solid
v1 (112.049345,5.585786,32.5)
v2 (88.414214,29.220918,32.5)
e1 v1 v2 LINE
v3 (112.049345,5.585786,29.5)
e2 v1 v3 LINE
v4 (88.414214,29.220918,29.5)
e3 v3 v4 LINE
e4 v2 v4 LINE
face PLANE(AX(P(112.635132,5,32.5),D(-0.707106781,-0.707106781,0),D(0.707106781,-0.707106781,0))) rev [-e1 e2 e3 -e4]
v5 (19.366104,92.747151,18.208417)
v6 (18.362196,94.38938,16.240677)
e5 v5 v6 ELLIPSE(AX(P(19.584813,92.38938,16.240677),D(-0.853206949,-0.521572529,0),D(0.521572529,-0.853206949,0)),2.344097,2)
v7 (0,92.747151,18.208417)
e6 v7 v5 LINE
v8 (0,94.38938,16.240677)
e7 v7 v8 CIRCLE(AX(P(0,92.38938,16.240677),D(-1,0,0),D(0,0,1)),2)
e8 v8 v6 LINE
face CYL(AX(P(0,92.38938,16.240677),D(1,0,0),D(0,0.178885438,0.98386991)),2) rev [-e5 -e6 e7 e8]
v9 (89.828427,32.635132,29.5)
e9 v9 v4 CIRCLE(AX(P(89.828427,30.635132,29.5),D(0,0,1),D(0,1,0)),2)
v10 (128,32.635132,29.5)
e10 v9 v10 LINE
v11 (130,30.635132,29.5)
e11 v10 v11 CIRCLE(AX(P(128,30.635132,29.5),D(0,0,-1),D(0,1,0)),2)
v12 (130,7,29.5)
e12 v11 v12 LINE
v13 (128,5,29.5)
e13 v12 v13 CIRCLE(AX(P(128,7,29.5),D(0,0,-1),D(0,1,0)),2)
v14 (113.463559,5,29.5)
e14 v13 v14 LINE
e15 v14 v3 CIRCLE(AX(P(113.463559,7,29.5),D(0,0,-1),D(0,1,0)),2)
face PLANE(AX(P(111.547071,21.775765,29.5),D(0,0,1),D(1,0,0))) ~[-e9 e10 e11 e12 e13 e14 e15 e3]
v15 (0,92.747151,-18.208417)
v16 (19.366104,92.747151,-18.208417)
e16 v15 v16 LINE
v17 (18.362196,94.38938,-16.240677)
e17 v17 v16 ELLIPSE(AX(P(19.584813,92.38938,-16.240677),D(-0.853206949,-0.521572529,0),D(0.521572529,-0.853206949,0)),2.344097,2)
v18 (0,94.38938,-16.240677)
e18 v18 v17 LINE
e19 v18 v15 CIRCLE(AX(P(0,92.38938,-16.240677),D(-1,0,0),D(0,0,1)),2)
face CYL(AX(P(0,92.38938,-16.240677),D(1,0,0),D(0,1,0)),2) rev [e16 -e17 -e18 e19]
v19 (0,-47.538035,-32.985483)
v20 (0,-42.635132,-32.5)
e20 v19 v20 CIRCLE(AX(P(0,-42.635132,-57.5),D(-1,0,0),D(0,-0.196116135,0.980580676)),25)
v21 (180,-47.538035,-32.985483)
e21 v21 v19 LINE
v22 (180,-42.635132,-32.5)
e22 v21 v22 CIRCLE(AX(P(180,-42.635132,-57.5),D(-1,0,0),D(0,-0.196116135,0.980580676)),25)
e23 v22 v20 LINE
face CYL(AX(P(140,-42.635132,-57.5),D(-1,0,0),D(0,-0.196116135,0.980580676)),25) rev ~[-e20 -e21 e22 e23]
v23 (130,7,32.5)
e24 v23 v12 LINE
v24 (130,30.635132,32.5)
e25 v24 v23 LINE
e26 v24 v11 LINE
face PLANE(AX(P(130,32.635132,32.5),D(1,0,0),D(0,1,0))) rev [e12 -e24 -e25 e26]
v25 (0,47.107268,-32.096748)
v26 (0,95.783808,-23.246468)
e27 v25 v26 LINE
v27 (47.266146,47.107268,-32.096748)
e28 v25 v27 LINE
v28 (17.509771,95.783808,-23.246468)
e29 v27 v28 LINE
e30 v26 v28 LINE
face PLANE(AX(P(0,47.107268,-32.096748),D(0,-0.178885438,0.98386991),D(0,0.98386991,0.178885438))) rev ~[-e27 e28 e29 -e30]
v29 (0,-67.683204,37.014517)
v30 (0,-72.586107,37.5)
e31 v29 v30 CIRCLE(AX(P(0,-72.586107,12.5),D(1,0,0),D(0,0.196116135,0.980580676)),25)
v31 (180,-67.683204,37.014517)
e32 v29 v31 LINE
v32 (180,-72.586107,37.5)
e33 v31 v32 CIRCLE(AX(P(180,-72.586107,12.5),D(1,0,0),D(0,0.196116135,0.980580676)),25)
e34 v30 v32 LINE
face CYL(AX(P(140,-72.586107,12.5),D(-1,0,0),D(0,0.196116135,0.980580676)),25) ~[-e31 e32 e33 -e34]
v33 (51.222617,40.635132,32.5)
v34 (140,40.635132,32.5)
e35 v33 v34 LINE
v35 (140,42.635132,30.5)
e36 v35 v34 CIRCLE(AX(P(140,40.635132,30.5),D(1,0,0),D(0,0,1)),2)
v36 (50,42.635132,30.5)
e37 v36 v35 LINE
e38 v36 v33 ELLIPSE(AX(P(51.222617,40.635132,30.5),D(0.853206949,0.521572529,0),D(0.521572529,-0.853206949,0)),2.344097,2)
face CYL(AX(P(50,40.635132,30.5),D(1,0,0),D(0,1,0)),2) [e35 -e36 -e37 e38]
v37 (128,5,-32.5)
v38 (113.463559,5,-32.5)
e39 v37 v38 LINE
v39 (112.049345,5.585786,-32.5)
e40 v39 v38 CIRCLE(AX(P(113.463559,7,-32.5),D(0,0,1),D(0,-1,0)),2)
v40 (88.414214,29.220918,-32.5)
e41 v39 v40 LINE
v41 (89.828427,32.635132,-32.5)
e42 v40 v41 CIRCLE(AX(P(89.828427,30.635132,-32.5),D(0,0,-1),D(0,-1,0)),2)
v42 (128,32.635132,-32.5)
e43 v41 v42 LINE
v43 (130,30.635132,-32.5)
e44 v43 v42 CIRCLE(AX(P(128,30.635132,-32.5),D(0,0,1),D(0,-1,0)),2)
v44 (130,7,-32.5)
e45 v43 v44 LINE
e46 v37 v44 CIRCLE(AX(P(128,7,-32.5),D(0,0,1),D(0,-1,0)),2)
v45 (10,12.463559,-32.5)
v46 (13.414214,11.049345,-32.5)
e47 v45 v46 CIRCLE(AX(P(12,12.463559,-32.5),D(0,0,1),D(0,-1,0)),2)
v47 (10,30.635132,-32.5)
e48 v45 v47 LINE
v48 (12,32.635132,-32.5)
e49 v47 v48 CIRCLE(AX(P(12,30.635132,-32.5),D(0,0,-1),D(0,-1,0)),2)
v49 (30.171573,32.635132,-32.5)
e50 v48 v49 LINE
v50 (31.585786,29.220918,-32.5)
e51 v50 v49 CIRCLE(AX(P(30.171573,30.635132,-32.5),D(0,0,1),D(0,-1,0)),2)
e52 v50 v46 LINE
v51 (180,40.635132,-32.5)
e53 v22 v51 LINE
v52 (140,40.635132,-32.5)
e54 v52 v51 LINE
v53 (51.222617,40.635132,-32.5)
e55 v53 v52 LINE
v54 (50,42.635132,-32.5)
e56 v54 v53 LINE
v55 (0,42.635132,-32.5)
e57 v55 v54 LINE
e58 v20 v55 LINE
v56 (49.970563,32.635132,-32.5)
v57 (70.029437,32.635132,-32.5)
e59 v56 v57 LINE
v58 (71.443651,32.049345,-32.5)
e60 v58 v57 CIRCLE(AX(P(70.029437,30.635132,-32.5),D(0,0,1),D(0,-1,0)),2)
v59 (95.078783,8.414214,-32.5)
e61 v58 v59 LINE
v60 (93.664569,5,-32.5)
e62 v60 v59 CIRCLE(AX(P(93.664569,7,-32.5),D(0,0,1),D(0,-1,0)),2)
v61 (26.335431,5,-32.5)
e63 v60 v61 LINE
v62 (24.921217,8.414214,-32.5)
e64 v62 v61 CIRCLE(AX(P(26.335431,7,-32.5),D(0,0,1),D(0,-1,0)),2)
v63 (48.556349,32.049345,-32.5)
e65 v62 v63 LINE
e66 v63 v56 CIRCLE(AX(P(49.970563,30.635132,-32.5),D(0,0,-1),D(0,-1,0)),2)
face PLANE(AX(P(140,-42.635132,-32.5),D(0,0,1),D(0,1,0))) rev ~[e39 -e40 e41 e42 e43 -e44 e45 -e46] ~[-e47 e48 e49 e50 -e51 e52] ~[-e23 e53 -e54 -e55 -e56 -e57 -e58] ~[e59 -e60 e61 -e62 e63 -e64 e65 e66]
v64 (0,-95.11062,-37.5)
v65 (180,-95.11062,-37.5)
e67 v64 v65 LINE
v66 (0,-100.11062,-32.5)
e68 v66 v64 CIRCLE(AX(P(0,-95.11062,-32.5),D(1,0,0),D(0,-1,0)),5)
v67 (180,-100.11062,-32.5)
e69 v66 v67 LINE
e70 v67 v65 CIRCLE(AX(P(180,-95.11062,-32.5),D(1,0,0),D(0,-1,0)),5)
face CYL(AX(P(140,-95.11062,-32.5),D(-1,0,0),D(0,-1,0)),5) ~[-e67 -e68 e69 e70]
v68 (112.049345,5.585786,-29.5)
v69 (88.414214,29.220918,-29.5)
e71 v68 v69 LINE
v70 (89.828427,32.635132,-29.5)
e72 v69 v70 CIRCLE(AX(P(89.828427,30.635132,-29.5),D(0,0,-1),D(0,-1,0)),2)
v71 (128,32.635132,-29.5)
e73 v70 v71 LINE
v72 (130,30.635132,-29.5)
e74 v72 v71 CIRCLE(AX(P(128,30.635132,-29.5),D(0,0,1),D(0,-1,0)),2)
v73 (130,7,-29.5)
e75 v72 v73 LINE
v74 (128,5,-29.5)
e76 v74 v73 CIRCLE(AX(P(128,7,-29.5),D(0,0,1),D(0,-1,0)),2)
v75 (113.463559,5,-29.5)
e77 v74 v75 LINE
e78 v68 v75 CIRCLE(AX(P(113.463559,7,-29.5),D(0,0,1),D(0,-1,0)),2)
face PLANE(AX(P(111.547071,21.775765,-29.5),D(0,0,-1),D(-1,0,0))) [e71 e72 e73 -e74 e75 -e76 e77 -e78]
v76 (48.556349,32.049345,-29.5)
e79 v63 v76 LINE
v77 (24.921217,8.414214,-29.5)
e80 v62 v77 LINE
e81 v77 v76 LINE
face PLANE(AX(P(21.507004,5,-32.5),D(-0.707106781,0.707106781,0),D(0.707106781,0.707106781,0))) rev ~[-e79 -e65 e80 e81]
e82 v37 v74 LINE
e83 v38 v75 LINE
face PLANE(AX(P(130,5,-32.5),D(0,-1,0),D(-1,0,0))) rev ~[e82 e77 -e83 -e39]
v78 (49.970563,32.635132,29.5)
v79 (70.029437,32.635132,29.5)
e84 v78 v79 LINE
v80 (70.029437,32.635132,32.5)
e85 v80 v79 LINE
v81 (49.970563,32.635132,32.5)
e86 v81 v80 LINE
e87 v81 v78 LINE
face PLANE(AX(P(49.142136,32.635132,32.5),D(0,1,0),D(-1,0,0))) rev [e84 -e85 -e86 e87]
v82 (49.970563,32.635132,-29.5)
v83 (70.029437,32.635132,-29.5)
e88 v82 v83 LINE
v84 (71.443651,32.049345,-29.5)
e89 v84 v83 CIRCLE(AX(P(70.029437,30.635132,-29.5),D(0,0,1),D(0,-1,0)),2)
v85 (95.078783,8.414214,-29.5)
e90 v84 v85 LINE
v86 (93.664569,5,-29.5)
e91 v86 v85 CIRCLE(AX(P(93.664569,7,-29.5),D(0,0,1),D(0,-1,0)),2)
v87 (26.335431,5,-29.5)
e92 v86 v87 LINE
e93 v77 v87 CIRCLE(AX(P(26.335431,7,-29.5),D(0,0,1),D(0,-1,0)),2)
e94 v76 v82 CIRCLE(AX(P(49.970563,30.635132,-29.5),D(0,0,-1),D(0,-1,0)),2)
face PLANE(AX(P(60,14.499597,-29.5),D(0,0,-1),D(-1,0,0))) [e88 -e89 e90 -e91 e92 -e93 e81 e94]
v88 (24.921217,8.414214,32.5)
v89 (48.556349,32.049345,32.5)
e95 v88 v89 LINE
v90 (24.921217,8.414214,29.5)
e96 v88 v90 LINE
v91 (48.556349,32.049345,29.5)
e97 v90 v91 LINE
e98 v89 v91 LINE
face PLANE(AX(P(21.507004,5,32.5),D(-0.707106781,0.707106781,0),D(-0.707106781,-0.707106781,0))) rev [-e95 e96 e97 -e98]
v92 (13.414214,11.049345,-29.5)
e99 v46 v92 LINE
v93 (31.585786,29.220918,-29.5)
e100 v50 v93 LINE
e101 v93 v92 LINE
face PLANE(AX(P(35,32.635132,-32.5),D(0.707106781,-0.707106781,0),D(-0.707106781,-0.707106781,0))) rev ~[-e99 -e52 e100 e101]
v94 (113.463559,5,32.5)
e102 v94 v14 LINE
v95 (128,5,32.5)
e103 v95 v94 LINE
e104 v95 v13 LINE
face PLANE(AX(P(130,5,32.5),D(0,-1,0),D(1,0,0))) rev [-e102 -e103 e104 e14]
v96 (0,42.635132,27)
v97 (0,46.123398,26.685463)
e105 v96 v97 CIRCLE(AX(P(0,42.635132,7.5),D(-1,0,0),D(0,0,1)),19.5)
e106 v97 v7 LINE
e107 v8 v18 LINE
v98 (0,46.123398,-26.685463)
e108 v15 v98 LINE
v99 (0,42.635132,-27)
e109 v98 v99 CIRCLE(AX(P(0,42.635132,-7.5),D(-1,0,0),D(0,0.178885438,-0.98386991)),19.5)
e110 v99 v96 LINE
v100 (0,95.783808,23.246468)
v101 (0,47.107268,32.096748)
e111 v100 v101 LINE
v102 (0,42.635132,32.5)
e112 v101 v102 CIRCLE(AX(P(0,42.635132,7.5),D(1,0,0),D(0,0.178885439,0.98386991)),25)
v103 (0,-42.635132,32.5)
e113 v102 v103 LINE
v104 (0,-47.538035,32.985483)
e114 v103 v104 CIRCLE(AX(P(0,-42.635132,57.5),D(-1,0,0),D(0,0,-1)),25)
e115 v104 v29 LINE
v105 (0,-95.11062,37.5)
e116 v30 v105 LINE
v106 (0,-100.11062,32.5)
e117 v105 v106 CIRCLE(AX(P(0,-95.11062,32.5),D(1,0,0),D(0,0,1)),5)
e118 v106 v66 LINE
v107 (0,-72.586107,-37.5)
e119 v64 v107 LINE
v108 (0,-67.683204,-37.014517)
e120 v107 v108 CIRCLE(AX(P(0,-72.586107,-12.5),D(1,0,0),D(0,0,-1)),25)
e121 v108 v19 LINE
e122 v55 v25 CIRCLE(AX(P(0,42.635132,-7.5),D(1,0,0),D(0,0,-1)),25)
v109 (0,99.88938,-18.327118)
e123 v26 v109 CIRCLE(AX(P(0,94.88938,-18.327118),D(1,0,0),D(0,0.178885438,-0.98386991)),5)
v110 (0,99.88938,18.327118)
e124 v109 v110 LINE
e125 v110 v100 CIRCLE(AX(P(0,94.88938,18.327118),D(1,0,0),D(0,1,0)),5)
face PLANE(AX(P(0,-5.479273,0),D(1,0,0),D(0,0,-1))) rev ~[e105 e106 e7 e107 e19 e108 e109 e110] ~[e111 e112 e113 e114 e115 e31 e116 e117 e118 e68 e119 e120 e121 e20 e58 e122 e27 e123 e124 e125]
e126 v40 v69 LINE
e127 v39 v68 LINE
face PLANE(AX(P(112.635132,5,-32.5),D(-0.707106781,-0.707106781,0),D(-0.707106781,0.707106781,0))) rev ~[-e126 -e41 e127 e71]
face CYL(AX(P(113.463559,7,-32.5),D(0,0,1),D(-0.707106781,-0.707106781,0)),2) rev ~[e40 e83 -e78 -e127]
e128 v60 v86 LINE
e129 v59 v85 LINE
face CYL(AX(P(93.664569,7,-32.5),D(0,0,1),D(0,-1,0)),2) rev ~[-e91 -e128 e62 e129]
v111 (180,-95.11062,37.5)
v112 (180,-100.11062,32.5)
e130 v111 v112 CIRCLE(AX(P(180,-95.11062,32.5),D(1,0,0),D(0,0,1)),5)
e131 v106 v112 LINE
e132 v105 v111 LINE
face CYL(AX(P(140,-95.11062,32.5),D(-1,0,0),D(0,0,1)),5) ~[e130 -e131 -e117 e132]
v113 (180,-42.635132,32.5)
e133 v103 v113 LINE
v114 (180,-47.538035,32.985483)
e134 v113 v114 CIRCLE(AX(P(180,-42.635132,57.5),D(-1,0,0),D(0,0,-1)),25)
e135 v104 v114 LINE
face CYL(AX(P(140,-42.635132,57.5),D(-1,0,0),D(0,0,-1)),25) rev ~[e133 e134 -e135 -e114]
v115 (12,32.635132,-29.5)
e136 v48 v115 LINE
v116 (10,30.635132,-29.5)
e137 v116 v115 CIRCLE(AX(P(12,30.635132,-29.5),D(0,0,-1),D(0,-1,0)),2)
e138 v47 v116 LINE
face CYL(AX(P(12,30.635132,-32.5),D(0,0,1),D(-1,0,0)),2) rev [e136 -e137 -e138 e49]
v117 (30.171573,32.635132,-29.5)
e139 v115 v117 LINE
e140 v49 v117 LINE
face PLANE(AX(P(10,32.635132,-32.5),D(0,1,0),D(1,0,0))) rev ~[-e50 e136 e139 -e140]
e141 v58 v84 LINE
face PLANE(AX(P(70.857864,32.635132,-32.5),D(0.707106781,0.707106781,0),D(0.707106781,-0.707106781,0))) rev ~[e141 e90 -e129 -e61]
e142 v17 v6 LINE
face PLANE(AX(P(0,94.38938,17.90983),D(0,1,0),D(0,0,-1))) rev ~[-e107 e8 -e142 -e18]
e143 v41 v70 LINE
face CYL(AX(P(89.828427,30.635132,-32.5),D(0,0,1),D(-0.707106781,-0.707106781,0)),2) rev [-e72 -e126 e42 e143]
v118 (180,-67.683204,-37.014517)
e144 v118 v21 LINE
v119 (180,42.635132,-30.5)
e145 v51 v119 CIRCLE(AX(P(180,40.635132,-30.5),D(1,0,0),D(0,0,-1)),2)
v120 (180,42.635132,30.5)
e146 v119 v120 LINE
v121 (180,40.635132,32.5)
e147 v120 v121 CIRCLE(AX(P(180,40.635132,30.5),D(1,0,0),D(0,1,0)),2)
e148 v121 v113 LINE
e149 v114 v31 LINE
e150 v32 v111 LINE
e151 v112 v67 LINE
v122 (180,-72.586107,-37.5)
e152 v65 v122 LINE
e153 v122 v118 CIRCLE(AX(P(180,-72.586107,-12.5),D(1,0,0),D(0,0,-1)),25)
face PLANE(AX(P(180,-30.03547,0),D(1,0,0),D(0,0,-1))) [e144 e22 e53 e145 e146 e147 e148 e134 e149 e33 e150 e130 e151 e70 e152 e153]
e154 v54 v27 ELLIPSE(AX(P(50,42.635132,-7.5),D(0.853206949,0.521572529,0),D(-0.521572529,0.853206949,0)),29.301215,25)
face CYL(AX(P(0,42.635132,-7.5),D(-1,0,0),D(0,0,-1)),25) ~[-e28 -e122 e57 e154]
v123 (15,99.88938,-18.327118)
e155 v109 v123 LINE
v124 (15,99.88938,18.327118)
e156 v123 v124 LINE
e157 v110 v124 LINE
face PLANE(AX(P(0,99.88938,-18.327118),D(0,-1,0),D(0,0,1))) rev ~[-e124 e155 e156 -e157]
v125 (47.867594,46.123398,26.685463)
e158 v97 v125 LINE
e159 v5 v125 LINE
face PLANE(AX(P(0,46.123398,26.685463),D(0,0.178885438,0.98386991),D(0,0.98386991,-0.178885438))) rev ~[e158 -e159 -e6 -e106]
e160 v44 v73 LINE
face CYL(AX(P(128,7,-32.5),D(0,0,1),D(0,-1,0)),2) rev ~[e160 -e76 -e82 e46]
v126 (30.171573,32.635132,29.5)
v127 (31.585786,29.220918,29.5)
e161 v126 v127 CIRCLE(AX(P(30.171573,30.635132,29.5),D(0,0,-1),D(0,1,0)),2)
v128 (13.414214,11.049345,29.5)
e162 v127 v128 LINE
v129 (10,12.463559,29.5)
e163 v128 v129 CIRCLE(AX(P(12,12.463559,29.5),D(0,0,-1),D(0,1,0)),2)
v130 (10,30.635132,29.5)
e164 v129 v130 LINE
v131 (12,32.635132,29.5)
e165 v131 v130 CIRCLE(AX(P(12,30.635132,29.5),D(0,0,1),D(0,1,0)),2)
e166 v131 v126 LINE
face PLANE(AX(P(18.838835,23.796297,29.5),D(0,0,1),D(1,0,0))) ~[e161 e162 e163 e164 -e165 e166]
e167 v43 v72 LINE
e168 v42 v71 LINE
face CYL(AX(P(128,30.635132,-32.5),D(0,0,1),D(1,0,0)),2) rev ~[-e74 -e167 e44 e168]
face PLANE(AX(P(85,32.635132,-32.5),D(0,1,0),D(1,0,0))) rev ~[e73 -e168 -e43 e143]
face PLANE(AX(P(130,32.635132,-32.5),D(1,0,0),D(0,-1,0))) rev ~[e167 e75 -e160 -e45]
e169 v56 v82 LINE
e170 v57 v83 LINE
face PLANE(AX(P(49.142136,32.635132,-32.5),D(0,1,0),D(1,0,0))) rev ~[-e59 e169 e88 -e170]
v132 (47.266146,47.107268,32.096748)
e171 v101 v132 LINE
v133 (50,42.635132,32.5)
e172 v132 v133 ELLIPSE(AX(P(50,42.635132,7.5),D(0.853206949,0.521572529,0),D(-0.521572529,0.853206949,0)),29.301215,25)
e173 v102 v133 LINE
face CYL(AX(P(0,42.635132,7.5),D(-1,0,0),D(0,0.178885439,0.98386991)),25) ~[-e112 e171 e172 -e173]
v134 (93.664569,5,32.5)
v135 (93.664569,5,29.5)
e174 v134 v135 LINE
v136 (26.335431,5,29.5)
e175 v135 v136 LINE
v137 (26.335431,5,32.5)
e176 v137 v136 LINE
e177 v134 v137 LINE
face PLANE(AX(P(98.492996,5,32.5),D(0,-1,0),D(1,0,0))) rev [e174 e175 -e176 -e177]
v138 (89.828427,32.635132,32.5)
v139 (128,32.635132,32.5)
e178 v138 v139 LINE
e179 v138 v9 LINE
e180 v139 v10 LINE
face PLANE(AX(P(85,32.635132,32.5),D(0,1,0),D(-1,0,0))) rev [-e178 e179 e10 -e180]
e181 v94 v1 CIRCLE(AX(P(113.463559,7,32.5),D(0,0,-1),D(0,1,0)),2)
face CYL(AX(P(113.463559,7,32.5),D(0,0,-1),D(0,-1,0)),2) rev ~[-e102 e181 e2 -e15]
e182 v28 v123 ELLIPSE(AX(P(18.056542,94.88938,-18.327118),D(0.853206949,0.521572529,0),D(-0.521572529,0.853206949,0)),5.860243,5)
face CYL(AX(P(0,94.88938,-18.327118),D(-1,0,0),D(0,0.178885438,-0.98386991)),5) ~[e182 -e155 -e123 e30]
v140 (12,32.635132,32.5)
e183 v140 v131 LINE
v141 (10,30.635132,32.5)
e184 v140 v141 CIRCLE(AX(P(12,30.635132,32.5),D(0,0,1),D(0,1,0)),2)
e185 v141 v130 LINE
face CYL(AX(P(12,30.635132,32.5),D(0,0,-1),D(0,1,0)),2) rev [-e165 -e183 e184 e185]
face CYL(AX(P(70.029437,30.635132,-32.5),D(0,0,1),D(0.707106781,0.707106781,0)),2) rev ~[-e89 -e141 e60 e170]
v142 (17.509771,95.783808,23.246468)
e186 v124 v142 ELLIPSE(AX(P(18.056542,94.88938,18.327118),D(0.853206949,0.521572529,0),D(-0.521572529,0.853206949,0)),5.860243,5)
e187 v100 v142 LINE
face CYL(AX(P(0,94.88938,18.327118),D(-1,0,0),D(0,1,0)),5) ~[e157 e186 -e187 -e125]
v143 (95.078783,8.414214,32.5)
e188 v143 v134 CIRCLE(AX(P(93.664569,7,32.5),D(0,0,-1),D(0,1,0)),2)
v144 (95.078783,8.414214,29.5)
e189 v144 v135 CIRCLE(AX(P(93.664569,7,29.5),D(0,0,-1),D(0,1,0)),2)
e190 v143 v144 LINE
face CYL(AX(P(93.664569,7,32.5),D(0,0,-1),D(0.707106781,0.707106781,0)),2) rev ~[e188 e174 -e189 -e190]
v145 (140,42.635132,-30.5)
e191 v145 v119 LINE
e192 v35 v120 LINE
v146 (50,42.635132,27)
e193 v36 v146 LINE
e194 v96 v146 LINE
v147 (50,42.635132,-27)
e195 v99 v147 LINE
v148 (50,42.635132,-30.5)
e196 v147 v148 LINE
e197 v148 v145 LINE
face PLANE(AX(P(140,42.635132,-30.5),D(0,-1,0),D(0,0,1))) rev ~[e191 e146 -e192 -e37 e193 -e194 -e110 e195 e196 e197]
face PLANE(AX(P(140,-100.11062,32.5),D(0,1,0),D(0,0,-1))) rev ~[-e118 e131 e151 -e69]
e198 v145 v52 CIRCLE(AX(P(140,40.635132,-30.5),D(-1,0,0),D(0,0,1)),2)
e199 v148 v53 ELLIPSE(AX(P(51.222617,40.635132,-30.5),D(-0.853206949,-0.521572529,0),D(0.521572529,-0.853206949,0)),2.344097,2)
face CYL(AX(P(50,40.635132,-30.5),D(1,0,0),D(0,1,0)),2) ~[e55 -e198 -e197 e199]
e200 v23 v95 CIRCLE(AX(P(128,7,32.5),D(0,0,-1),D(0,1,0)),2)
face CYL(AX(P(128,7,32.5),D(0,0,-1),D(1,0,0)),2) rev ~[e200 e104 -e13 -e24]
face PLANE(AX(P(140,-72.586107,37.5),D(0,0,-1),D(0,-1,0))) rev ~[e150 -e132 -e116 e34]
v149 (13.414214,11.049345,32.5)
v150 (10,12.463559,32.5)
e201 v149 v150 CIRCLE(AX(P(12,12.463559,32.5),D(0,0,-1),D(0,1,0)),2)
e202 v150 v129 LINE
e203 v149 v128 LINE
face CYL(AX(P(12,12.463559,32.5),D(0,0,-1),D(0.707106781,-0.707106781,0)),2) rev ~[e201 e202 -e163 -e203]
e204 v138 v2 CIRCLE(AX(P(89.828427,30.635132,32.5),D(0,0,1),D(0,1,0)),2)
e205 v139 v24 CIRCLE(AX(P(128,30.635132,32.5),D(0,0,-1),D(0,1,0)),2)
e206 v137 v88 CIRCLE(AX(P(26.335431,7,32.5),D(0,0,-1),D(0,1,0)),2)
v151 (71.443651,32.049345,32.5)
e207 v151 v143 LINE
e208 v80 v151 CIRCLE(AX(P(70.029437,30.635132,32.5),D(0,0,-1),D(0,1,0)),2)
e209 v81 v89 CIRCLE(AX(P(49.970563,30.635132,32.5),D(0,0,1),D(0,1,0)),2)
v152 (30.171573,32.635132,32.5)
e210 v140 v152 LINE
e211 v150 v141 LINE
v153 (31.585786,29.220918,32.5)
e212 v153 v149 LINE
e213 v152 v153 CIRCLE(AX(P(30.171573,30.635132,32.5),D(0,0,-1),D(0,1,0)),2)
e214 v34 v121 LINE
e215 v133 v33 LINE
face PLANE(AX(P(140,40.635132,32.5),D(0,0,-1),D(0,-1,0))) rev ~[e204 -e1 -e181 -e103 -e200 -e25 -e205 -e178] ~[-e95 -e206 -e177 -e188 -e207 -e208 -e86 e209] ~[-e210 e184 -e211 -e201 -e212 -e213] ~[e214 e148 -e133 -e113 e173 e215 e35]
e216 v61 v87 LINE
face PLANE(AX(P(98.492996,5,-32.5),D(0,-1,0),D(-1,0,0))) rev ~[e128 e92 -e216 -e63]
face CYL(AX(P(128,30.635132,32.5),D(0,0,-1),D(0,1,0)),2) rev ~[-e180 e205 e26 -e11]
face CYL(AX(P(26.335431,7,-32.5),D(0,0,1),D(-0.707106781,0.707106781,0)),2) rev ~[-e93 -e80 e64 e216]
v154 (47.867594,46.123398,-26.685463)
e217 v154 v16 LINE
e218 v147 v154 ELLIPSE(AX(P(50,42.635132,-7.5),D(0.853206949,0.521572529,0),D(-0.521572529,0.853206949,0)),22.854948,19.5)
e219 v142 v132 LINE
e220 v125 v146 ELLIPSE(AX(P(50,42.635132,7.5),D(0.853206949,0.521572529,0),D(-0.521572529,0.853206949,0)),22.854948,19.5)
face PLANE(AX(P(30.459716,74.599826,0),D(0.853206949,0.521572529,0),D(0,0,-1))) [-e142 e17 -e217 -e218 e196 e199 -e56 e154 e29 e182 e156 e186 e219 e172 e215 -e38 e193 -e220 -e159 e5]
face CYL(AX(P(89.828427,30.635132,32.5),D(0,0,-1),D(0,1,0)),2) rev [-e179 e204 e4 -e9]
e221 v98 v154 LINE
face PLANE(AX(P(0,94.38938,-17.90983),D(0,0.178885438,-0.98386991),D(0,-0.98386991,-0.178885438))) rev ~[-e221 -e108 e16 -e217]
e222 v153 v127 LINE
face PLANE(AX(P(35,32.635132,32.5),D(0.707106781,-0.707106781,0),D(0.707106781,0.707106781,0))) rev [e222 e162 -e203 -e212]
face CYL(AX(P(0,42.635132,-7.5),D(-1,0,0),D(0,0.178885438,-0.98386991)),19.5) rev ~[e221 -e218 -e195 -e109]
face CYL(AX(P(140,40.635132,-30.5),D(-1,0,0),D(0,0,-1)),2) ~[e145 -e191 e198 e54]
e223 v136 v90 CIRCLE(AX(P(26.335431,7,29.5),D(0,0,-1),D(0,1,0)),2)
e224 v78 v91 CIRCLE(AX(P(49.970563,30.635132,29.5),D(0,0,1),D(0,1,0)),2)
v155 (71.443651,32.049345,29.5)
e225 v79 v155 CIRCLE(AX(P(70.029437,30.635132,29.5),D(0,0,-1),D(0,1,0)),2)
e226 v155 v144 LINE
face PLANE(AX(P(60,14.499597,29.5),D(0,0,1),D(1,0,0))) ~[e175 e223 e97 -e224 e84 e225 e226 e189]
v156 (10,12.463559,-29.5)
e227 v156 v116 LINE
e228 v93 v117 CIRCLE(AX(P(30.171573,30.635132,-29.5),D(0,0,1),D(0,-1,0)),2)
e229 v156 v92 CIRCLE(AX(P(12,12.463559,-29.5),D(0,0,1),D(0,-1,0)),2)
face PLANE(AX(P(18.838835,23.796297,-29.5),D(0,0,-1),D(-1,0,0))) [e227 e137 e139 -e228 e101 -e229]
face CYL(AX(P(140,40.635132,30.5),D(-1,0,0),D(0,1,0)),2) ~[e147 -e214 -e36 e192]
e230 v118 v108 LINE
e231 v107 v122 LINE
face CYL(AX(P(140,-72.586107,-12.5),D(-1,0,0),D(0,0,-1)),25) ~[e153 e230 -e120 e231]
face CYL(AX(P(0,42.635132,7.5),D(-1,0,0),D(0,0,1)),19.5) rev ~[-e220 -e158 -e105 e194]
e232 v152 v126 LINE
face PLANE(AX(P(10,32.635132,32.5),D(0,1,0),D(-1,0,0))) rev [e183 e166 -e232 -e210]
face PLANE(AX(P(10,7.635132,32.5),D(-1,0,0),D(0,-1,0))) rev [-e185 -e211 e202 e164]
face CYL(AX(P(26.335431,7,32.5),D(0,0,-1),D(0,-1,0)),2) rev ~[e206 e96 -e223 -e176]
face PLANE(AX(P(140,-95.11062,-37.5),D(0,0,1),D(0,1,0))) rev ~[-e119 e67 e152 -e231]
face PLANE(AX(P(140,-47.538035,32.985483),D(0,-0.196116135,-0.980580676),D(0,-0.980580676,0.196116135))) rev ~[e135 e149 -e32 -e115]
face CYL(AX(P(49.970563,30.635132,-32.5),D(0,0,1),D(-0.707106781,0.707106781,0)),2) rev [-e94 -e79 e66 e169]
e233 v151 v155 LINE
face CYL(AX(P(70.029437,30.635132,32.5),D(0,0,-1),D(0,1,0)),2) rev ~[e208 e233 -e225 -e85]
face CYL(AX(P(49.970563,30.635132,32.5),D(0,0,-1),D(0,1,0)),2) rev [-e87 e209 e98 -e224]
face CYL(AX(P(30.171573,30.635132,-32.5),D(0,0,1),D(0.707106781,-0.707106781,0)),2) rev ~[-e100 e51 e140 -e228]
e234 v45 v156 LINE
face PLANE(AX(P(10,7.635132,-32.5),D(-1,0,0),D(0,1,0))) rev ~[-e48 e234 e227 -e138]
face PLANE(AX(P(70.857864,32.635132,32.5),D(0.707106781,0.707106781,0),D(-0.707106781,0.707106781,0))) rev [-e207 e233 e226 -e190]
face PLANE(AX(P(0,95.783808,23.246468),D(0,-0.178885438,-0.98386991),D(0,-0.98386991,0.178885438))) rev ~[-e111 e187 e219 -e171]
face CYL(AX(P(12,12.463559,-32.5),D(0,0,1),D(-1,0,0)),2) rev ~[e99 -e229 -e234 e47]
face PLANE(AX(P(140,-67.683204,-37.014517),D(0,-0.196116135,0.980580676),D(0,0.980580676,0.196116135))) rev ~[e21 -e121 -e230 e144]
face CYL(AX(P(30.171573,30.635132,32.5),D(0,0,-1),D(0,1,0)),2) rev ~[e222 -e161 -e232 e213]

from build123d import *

# Parameters (mm, degrees)
EXTRUDE_2_DEPTH        = 140
SKETCH_7_W             = 65
SKETCH_7_H             = 74.928349175
CUT_EXTRUDE_2_DEPTH    = 150
CUT_EXTRUDE_3_DEPTH    = 150
FILLET_1_R             = 2
FILLET_2_R             = 2
CUT_EXTRUDE_4_DEPTH    = 3
FILLET_3_R             = 2
FILLET_3_OF_MIRROR_1_R = 2
EXTRUDE_3_DEPTH        = 40


with BuildPart() as part:
    # 草图2 → 凸台-拉伸2 (new body)
    with BuildSketch(Plane(origin=(0, 0, 0), x_dir=(0, 0, -1), z_dir=(1, 0, 0))):
        with BuildLine():
            Line((37.5, -95.110619623), (37.5, -72.586107463))
            ThreePointArc((37.5, -72.586107463), (37.378333167, -70.122667014), (37.014516892, -67.683204084))
            Line((37.014516892, -67.683204084), (32.985483108, -47.538035162))
            ThreePointArc((32.985483108, -47.538035162), (32.621666833, -45.098572232), (32.5, -42.635131783))
            Line((32.5, -42.635131783), (32.5, 42.635131783))
            ThreePointArc((32.5, 42.635131783), (32.398982849, 44.880271666), (32.096747752, 47.107267738))
            Line((32.096747752, 47.107267738), (23.246467783, 95.783807568))
            ThreePointArc((23.246467783, 95.783807568), (21.530855429, 98.728139028), (18.327118233, 99.889380377))
            Line((18.327118233, 99.889380377), (-18.327118233, 99.889380377))
            ThreePointArc((-18.327118233, 99.889380377), (-21.530855429, 98.728139028), (-23.246467783, 95.783807568))
            Line((-23.246467783, 95.783807568), (-32.096747752, 47.107267738))
            ThreePointArc((-32.096747752, 47.107267738), (-32.398982849, 44.880271666), (-32.5, 42.635131783))
            Line((-32.5, 42.635131783), (-32.5, -42.635131783))
            ThreePointArc((-32.5, -42.635131783), (-32.621666833, -45.098572232), (-32.985483108, -47.538035162))
            Line((-32.985483108, -47.538035162), (-37.014516892, -67.683204084))
            ThreePointArc((-37.014516892, -67.683204084), (-37.378333167, -70.122667014), (-37.5, -72.586107463))
            Line((-37.5, -72.586107463), (-37.5, -95.110619623))
            ThreePointArc((-37.5, -95.110619623), (-36.035533906, -98.646153529), (-32.5, -100.110619623))
            Line((-32.5, -100.110619623), (32.5, -100.110619623))
            ThreePointArc((32.5, -100.110619623), (36.035533906, -98.646153529), (37.5, -95.110619623))
        make_face()
    extrude(amount=EXTRUDE_2_DEPTH)

    # 草图7 → 切除-拉伸2 (cut, along a direction that is not the sketch's normal)
    with BuildSketch(Plane(origin=(55.371135265, 33.848837106, 0), x_dir=(0, 0, -1), z_dir=(0.853206949, 0.521572529, 0))):
        with Locations((0, 47.762138861)):
            Rectangle(SKETCH_7_W, SKETCH_7_H)
    extrude(amount=CUT_EXTRUDE_2_DEPTH, dir=(1, 0, 0), mode=Mode.SUBTRACT)

    # 草图8 → 切除-拉伸3 (cut)
    with BuildSketch(Plane.ZY):
        with BuildLine():
            Line((17.909830056, 94.389380377), (-17.909830056, 94.389380377))
            Line((-17.909830056, 94.389380377), (-26.685463247, 46.123397828))
            ThreePointArc((-26.685463247, 46.123397828), (-26.921206622, 44.386340892), (-27, 42.635131783))
            Line((-27, 42.635131783), (27, 42.635131783))
            ThreePointArc((27, 42.635131783), (26.921206622, 44.386340892), (26.685463247, 46.123397828))
            Line((26.685463247, 46.123397828), (17.909830056, 94.389380377))
        make_face()
    extrude(amount=-CUT_EXTRUDE_3_DEPTH, mode=Mode.SUBTRACT)

    # 圆角1
    fillet_1_edges = [part.edges().sort_by_distance(p)[0] for p in [
        (9.181097951, 94.389380377, 17.909830056),
        (9.181097951, 94.389380377, -17.909830056),
    ]]
    fillet(fillet_1_edges, radius=FILLET_1_R)

    # 圆角2
    fillet_2_edges = [part.edges().sort_by_distance(p)[0] for p in [
        (95, 42.635131783, 32.5),
        (95, 42.635131783, -32.5),
    ]]
    fillet(fillet_2_edges, radius=FILLET_2_R)

    # 草图9 → 切除-拉伸4 (cut)
    with BuildSketch(Plane(origin=(0, 0, -32.5), x_dir=(-1, 0, 0), z_dir=(0, 0, -1))):
        Polygon((-85, 32.635131783), (-130, 32.635131783), (-130, 5), (-112.635131783, 5), align=None)
        Polygon((-49.142135624, 32.635131783), (-70.857864376, 32.635131783), (-98.492996159, 5), (-21.507003841, 5), align=None)
        Polygon((-10, 32.635131783), (-35, 32.635131783), (-10, 7.635131783), align=None)
    cut_extrude_4 = extrude(amount=-CUT_EXTRUDE_4_DEPTH, mode=Mode.SUBTRACT)

    # 圆角3
    fillet_3_edges = [part.edges().sort_by_distance(p)[0] for p in [
        (21.507003841, 5, -31),
        (98.492996159, 5, -31),
        (70.857864376, 32.635131783, -31),
        (49.142135624, 32.635131783, -31),
        (35, 32.635131783, -31),
        (10, 32.635131783, -31),
        (10, 7.635131783, -31),
        (85, 32.635131783, -31),
        (112.635131783, 5, -31),
        (130, 5, -31),
        (130, 32.635131783, -31),
    ]]
    fillet(fillet_3_edges, radius=FILLET_3_R)

    # 镜向1: 切除-拉伸4 across plane
    add(cut_extrude_4.mirror(Plane.XY), mode=Mode.SUBTRACT)

    # 圆角3 of 镜向1
    fillet_3_of_mirror_1_edges = [part.edges().sort_by_distance(p)[0] for p in [
        (21.507003841, 5, 31),
        (98.492996159, 5, 31),
        (70.857864376, 32.635131783, 31),
        (49.142135624, 32.635131783, 31),
        (35, 32.635131783, 31),
        (10, 32.635131783, 31),
        (10, 7.635131783, 31),
        (85, 32.635131783, 31),
        (112.635131783, 5, 31),
        (130, 5, 31),
        (130, 32.635131783, 31),
    ]]
    fillet(fillet_3_of_mirror_1_edges, radius=FILLET_3_OF_MIRROR_1_R)

    # 草图10 → 凸台-拉伸3 (add)
    with BuildSketch(Plane(origin=(140, 0, 0), x_dir=(0, 0, -1), z_dir=(1, 0, 0))):
        with BuildLine():
            Line((32.5, -42.635131783), (32.5, 40.635131783))
            ThreePointArc((32.5, 40.635131783), (31.914213562, 42.049345346), (30.5, 42.635131783))
            Line((30.5, 42.635131783), (-30.5, 42.635131783))
            ThreePointArc((-30.5, 42.635131783), (-31.914213562, 42.049345346), (-32.5, 40.635131783))
            Line((-32.5, 40.635131783), (-32.5, -42.635131783))
            ThreePointArc((-32.5, -42.635131783), (-32.621666833, -45.098572232), (-32.985483108, -47.538035162))
            Line((-32.985483108, -47.538035162), (-37.014516892, -67.683204084))
            ThreePointArc((-37.014516892, -67.683204084), (-37.378333167, -70.122667014), (-37.5, -72.586107463))
            Line((-37.5, -72.586107463), (-37.5, -95.110619623))
            ThreePointArc((-37.5, -95.110619623), (-36.035533906, -98.646153529), (-32.5, -100.110619623))
            Line((-32.5, -100.110619623), (32.5, -100.110619623))
            ThreePointArc((32.5, -100.110619623), (36.035533906, -98.646153529), (37.5, -95.110619623))
            Line((37.5, -95.110619623), (37.5, -72.586107463))
            ThreePointArc((37.5, -72.586107463), (37.378333167, -70.122667014), (37.014516892, -67.683204084))
            Line((37.014516892, -67.683204084), (32.985483108, -47.538035162))
            ThreePointArc((32.985483108, -47.538035162), (32.621666833, -45.098572232), (32.5, -42.635131783))
        make_face()
    extrude(amount=EXTRUDE_3_DEPTH)


solid = part.part
